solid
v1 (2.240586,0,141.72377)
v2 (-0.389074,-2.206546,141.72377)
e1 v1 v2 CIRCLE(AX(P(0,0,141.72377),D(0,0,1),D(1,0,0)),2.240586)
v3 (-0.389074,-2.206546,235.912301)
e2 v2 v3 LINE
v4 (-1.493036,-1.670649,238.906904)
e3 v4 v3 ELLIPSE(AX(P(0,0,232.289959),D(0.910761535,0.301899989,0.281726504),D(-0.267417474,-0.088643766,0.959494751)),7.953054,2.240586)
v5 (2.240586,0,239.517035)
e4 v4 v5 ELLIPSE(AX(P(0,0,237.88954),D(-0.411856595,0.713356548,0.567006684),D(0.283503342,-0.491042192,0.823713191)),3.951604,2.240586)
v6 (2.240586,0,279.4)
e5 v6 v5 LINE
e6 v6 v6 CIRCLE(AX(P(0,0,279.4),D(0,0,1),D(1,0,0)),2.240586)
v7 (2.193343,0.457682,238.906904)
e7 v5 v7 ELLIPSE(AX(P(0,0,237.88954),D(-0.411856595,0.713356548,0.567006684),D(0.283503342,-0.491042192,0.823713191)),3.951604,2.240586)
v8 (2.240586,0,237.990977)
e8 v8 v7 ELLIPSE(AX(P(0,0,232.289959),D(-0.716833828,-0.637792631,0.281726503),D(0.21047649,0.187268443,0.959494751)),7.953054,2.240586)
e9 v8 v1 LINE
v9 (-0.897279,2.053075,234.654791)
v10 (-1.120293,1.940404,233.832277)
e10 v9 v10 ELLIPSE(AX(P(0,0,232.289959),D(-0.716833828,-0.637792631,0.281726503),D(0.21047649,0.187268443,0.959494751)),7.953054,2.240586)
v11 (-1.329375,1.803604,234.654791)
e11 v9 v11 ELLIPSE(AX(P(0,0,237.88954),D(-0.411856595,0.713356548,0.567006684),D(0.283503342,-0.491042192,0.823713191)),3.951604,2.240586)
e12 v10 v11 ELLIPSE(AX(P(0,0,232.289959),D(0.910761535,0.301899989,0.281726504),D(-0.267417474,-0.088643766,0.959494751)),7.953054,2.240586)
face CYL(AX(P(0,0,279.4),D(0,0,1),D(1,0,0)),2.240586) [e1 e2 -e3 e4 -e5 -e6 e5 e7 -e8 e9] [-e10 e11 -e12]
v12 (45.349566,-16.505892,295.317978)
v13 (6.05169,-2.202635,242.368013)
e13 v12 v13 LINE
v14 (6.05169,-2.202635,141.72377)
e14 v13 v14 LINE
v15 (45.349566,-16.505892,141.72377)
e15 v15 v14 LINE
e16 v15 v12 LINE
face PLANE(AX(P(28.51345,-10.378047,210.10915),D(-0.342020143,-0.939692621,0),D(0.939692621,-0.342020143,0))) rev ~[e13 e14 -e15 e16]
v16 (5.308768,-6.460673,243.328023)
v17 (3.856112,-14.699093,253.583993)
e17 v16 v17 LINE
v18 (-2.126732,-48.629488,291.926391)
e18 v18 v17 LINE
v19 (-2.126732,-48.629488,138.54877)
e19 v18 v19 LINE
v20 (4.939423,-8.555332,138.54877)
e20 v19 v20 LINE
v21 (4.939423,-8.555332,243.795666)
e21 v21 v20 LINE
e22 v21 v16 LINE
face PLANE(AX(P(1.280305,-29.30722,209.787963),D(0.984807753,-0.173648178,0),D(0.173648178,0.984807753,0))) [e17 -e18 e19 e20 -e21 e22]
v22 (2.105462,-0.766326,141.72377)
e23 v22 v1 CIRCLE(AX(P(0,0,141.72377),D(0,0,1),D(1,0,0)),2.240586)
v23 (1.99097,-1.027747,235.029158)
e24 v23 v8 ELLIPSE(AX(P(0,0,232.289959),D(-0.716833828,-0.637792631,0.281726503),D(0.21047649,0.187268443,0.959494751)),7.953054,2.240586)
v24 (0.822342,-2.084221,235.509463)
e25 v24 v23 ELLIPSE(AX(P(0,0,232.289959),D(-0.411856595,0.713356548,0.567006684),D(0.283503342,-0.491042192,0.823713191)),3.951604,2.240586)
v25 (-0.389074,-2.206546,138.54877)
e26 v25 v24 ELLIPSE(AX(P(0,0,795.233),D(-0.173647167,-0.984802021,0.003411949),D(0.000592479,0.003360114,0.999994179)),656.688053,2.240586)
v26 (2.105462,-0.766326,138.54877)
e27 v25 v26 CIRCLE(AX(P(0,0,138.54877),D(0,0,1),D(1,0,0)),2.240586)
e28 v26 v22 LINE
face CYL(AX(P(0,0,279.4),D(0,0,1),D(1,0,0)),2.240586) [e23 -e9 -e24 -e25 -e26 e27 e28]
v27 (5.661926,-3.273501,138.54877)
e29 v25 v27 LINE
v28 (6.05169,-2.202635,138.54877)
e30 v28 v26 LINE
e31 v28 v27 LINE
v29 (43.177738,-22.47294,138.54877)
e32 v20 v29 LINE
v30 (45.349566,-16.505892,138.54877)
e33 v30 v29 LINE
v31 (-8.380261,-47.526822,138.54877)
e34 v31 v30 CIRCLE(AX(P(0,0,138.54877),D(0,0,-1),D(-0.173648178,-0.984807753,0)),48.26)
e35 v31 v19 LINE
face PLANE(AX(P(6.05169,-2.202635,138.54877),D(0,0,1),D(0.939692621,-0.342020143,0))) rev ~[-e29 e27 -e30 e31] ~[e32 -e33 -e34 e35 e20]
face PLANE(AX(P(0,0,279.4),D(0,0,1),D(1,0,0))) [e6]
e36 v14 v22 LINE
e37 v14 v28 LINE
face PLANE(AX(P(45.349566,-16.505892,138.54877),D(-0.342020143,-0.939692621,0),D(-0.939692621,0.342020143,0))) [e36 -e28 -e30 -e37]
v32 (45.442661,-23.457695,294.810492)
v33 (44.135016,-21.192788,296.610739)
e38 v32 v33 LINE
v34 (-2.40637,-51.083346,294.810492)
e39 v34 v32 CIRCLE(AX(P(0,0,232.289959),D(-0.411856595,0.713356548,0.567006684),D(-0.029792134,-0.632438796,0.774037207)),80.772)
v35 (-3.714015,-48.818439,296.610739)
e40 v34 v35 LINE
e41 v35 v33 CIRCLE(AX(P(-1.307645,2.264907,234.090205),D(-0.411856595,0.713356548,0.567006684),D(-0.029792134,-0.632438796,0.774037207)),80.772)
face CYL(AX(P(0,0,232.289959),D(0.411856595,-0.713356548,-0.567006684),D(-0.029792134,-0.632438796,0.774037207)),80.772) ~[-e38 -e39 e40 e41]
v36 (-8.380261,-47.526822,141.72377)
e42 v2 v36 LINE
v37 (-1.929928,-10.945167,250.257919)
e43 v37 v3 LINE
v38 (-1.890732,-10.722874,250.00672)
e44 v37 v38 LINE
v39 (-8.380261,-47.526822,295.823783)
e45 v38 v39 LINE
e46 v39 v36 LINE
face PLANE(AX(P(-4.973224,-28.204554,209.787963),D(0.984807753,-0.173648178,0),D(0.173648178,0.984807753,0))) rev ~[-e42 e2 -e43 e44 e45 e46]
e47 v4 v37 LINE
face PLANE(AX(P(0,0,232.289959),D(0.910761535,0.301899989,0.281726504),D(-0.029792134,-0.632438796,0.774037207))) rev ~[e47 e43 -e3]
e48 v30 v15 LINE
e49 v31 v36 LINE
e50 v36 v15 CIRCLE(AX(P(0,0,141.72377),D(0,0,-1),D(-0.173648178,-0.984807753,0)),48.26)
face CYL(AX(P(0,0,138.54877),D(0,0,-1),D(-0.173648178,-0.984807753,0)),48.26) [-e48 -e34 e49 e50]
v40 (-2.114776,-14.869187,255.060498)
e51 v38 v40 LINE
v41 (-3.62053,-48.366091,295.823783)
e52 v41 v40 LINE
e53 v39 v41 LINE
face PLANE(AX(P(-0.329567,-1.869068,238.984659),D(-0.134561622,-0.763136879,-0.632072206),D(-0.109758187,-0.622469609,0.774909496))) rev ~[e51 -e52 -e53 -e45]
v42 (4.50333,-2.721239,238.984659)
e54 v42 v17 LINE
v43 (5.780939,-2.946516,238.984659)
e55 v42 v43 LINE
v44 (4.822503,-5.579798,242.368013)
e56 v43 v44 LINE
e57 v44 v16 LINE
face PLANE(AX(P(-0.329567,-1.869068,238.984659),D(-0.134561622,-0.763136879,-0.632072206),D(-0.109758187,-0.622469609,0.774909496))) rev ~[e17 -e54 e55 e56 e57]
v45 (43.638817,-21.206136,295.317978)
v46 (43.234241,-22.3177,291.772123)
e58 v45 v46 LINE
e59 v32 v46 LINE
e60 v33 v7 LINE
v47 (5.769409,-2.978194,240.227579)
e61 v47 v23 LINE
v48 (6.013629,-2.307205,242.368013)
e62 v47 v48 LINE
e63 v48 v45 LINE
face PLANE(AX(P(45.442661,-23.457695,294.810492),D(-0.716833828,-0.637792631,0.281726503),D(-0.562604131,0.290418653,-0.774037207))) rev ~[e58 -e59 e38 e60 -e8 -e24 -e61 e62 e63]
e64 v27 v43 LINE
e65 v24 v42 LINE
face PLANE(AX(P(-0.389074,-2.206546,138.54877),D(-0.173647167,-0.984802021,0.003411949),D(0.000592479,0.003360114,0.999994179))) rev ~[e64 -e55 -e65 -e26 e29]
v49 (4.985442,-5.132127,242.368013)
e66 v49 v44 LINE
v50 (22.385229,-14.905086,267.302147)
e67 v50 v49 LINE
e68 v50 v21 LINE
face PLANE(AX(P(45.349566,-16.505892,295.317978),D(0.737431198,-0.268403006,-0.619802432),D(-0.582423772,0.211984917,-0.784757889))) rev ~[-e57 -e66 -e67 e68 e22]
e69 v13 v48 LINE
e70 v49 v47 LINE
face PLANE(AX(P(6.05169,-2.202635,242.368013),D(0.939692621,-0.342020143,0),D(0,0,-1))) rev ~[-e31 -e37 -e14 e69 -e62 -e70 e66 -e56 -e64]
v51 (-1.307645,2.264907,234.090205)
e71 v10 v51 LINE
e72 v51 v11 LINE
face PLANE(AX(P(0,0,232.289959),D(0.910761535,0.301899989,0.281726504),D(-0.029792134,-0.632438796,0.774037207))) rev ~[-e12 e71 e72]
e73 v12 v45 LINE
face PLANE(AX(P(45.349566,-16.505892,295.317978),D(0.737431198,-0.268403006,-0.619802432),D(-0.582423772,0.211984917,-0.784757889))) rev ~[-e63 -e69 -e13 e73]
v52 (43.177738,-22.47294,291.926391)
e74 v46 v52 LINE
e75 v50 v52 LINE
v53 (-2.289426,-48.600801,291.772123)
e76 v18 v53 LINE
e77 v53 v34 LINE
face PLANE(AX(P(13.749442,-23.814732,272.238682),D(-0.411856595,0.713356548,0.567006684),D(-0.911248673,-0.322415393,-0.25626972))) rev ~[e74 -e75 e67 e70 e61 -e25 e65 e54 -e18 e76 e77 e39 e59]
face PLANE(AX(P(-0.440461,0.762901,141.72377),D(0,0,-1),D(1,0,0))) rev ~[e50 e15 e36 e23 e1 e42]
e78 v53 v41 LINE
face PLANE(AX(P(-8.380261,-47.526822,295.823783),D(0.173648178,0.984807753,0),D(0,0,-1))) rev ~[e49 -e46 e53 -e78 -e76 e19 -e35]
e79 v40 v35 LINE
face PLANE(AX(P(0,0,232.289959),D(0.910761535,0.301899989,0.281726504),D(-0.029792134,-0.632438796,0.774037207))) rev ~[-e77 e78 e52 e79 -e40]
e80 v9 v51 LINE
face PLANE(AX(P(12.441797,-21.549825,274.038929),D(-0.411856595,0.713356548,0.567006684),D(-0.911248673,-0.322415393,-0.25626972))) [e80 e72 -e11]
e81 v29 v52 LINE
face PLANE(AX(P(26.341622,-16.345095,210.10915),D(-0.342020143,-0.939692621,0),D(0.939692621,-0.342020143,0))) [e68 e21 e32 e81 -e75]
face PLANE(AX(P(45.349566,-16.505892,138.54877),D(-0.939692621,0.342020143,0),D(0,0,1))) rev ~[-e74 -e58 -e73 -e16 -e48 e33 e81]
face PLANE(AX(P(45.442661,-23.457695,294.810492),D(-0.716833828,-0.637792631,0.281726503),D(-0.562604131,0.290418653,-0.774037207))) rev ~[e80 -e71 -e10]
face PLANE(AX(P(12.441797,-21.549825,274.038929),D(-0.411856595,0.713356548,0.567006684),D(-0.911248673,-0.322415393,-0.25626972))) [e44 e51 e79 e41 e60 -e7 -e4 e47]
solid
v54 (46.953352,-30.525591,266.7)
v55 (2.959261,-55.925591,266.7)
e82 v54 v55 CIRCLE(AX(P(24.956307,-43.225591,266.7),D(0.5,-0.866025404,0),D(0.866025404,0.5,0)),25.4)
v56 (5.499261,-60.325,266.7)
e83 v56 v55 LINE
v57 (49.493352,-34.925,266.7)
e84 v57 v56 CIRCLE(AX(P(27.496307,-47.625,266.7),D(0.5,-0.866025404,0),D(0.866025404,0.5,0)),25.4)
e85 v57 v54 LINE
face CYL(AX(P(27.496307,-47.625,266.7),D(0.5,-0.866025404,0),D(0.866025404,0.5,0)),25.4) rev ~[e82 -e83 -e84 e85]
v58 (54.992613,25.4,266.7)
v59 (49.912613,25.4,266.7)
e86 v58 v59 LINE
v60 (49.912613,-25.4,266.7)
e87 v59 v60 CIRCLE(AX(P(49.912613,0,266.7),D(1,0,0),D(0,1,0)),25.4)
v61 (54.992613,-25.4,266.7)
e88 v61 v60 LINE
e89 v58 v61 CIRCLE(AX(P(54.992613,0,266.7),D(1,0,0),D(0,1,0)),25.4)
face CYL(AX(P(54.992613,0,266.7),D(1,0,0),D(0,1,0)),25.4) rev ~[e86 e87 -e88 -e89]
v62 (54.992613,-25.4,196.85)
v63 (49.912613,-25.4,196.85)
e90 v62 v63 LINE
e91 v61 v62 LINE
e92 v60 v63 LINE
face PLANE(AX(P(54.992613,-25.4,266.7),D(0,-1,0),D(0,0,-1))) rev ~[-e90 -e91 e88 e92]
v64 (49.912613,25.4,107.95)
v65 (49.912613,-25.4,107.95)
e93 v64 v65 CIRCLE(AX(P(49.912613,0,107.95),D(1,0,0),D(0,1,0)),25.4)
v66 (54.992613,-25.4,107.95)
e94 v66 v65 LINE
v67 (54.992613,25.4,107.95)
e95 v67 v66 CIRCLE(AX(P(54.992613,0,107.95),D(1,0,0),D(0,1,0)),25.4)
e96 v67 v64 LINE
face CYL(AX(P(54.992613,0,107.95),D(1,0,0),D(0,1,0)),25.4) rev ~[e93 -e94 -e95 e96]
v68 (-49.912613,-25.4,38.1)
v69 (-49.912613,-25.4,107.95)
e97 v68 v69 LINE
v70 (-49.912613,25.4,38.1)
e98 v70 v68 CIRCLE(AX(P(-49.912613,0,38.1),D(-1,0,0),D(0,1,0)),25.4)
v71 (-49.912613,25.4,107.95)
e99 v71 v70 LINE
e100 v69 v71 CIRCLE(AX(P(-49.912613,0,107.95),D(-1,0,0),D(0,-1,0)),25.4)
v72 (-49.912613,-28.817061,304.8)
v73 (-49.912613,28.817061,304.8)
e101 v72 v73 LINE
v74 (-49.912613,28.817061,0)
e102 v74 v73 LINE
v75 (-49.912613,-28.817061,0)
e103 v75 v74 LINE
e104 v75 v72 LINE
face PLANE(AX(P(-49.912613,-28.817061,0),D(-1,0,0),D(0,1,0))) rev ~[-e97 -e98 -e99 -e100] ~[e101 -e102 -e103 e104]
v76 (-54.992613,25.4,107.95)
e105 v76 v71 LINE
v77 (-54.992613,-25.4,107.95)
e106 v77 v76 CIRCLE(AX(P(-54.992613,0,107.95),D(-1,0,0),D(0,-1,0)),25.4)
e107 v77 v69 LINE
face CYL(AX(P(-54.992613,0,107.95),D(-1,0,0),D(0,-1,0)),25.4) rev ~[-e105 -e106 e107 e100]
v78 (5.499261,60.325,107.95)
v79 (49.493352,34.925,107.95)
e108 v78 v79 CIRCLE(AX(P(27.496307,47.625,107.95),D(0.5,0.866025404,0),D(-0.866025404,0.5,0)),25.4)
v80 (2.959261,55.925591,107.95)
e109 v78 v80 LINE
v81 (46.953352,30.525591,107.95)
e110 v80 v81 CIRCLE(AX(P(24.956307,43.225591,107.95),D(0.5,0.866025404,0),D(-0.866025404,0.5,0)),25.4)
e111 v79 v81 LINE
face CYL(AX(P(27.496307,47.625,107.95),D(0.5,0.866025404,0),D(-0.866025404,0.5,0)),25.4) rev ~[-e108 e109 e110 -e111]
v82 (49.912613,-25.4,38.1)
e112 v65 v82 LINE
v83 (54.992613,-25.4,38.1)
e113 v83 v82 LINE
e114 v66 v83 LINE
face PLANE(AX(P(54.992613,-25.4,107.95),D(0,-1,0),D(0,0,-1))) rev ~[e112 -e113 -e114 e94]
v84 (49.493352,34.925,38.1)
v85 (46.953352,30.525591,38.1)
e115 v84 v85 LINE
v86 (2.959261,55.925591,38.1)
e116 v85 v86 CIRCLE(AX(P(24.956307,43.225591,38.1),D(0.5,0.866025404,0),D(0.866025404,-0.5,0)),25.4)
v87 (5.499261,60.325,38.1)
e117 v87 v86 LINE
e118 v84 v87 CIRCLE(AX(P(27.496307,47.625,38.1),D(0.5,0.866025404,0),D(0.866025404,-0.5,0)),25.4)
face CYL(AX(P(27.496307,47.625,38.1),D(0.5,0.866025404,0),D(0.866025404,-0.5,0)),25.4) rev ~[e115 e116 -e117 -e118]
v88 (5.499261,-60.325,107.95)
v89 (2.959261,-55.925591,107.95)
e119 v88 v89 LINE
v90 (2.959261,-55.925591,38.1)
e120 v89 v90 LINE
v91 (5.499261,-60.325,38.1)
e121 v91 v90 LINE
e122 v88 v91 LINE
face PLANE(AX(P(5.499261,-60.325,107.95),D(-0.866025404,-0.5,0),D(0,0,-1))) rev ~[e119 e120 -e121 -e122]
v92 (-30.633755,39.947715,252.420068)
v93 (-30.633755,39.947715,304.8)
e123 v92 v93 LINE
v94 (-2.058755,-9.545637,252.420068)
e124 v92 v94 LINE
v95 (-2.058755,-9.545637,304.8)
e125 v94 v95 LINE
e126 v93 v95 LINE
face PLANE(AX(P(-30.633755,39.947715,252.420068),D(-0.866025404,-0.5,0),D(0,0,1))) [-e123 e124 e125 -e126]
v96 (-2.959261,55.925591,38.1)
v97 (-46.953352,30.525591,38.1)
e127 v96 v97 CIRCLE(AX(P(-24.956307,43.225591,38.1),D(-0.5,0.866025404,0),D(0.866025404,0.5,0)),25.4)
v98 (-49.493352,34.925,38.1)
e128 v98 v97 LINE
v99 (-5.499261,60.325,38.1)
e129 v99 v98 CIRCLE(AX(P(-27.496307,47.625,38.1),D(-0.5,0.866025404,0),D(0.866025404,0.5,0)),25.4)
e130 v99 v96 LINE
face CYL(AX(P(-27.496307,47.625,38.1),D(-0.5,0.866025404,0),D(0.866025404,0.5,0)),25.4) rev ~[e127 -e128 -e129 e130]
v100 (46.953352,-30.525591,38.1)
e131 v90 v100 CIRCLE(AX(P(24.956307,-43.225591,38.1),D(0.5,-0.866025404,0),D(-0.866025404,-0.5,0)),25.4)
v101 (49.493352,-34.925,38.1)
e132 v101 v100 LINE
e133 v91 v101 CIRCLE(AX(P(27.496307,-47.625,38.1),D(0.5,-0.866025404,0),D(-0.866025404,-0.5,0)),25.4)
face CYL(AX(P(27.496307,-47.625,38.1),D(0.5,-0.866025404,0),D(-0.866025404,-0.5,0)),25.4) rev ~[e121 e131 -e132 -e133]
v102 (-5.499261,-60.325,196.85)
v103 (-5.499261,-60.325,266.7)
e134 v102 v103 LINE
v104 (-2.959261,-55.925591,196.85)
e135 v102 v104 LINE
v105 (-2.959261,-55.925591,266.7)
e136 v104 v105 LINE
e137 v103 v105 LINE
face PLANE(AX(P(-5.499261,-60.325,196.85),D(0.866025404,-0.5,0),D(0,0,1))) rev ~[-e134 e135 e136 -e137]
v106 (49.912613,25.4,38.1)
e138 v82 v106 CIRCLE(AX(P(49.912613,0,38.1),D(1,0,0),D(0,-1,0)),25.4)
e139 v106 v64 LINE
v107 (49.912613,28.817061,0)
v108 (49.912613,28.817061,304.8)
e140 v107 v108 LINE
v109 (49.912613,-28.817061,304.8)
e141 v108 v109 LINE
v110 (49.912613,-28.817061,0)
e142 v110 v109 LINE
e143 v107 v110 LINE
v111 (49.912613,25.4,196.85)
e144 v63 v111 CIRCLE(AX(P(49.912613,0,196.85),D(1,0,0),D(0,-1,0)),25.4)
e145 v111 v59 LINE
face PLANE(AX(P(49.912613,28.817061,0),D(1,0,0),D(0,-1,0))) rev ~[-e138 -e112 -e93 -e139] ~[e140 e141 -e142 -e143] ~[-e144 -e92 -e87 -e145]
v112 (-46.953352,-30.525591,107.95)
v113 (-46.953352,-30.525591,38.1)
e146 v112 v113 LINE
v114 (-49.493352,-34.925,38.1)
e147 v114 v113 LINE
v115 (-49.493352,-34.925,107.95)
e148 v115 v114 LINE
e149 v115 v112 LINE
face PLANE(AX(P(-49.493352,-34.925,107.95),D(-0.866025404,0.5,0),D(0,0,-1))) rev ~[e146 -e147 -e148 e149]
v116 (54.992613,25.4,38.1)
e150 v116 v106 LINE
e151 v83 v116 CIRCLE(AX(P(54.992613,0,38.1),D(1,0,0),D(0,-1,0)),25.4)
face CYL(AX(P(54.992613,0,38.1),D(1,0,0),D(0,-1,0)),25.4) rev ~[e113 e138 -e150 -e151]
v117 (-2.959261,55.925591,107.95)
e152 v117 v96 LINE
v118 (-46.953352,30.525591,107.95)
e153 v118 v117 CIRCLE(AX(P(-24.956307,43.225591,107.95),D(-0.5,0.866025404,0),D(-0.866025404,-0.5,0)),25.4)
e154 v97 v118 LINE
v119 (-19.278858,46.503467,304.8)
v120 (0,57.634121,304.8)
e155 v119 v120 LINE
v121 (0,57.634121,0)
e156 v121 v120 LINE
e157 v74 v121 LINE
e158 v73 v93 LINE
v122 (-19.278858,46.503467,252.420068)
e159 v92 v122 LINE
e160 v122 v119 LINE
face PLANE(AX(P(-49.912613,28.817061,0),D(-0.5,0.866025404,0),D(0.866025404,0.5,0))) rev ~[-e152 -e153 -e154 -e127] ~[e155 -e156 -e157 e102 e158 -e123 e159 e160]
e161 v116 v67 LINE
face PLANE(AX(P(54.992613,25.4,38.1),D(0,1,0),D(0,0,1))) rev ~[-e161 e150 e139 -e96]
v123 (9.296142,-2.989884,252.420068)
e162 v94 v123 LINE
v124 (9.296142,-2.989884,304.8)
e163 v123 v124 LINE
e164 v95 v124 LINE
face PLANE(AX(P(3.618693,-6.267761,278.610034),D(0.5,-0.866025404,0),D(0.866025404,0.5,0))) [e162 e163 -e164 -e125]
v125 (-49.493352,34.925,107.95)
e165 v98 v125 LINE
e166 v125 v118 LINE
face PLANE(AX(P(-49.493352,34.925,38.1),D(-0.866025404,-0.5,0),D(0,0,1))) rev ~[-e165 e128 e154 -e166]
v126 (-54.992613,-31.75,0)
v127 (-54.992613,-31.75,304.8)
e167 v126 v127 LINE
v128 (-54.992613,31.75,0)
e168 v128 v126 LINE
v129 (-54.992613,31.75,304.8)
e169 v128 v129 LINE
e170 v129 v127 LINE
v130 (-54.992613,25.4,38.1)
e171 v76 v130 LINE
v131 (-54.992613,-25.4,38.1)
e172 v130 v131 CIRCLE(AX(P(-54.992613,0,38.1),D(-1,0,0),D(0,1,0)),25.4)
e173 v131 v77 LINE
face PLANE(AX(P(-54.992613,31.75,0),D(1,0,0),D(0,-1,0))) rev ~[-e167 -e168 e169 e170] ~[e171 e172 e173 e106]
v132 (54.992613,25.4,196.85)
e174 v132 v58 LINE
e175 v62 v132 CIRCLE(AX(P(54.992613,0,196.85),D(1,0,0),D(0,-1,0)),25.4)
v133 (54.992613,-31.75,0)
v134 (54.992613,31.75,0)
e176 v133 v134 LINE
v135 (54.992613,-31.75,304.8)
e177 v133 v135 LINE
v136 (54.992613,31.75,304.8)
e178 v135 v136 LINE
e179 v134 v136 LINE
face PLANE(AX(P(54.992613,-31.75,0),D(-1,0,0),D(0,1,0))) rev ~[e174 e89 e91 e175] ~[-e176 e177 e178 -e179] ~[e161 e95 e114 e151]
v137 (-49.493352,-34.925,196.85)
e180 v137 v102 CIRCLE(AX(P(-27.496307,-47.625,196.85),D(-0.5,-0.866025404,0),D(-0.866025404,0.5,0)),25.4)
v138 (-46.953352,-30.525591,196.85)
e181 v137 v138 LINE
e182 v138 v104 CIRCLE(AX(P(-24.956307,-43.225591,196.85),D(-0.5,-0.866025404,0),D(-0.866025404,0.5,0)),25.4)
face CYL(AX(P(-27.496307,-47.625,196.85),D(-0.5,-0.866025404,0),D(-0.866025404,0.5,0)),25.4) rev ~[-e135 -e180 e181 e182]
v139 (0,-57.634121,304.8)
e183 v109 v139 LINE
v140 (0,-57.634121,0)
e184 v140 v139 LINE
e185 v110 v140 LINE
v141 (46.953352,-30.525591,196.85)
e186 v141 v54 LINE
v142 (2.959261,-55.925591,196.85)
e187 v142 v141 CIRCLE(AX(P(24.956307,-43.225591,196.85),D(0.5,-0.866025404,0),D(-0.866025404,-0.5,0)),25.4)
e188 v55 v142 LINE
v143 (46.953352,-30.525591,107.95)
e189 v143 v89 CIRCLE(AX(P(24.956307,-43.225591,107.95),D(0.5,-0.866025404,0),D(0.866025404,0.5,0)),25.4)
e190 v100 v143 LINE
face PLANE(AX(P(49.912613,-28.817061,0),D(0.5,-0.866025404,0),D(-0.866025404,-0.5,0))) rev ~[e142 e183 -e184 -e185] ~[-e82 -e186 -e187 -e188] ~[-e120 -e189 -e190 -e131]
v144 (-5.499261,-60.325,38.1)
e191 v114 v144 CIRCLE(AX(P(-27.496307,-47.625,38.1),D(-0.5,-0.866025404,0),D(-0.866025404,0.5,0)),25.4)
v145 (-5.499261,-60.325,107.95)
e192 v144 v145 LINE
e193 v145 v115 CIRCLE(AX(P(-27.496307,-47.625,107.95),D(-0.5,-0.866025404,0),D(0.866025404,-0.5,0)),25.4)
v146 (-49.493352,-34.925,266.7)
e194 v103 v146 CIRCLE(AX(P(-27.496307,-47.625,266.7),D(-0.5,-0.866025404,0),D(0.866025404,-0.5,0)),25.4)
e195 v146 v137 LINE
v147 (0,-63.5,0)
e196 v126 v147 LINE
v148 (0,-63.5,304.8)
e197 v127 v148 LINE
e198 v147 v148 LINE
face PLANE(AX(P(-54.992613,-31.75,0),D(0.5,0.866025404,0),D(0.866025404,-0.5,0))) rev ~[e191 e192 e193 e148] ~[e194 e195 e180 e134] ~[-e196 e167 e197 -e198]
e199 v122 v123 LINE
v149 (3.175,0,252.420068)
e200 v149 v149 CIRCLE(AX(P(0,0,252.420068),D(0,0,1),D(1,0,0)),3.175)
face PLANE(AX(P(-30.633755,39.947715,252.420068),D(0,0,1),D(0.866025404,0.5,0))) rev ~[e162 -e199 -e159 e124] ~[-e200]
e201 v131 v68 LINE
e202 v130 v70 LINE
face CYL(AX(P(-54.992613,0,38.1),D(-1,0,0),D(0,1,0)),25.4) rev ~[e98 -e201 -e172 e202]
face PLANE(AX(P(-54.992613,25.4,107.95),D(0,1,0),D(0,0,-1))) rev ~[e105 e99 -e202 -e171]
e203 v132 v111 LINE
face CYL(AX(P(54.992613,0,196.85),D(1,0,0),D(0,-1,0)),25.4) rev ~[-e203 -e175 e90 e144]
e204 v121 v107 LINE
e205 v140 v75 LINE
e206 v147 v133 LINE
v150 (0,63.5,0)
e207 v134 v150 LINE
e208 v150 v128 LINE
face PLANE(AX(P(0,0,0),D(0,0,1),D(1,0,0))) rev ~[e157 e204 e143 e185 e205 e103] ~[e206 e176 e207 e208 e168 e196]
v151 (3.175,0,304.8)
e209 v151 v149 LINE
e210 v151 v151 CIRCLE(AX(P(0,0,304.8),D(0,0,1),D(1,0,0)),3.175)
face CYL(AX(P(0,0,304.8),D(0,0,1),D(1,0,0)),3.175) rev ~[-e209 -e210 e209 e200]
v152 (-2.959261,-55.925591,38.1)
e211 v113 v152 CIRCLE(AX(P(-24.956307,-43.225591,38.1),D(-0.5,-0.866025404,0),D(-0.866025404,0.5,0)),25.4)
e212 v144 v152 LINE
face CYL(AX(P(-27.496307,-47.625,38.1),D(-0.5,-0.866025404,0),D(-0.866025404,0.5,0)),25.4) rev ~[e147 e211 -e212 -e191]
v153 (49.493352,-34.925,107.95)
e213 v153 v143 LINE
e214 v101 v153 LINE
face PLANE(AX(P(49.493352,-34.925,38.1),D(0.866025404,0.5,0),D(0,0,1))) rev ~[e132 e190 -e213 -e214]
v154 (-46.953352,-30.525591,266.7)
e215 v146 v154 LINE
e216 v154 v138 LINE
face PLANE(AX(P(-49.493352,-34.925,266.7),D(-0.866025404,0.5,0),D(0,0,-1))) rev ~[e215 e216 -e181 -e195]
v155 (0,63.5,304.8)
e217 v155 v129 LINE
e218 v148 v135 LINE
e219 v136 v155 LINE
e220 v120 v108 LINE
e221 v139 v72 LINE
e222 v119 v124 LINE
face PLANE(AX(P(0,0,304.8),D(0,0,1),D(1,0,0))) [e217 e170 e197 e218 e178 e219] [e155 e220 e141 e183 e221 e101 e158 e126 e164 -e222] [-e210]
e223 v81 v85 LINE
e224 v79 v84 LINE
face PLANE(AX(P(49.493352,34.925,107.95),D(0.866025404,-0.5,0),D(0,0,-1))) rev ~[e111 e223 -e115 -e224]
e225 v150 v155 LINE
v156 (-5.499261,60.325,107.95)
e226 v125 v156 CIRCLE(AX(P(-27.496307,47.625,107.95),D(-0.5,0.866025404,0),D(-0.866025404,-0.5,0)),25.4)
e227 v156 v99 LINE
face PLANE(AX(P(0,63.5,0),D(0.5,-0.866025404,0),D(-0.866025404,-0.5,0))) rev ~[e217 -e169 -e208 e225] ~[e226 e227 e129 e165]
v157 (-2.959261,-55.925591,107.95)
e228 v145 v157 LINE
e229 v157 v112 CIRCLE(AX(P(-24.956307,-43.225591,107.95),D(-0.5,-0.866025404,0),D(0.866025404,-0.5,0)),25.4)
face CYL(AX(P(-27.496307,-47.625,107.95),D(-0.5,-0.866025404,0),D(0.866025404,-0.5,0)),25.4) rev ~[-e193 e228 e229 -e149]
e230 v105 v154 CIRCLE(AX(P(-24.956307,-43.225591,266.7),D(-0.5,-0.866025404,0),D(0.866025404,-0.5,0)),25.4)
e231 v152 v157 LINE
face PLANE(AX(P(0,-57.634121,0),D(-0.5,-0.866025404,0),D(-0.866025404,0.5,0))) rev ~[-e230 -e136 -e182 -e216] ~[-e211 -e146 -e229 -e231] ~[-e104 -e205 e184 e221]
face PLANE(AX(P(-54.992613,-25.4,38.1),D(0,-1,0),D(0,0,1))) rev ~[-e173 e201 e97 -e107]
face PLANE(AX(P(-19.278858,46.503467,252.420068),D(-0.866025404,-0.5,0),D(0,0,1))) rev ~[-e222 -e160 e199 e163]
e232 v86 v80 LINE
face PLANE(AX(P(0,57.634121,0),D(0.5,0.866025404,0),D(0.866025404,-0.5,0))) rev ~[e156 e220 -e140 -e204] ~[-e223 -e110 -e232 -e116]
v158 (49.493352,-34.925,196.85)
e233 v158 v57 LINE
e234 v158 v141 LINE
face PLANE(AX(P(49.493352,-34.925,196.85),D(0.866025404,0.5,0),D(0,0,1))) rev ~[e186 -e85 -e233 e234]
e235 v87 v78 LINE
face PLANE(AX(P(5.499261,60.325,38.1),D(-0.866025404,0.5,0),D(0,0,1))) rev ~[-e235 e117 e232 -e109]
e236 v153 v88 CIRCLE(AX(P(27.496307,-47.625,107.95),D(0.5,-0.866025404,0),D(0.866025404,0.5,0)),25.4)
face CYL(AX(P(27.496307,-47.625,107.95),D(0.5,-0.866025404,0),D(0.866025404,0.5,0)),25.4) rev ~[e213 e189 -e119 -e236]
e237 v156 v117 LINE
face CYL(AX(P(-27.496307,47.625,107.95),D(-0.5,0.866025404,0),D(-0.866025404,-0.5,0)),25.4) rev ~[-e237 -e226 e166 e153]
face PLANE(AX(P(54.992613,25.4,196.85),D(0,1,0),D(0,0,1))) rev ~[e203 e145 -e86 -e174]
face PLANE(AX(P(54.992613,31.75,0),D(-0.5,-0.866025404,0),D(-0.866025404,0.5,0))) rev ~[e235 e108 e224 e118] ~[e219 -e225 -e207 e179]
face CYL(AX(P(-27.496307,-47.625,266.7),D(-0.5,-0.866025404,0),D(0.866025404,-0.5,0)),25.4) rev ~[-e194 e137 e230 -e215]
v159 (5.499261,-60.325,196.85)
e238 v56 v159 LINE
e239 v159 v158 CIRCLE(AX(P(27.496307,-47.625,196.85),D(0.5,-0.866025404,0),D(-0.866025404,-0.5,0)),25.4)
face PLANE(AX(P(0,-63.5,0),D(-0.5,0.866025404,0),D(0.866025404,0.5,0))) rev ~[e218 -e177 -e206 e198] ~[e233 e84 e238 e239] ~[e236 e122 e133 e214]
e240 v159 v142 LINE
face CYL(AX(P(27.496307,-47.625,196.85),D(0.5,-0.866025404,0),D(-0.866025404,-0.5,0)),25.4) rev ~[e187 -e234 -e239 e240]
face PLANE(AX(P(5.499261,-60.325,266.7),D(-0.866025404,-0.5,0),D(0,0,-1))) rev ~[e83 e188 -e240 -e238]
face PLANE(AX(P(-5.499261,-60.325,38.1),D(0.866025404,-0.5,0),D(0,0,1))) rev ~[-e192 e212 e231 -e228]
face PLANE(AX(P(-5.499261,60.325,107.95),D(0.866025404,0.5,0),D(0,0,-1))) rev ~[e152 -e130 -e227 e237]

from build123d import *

# Parameters (mm, degrees)
F1_DEPTH  = 304.8
F7_DEPTH  = 3.175
F8_W      = 13.1115056574
F8_H      = 52.3799322128
F9_DEPTH  = 57.15
F10_R     = 3.175
F11_DEPTH = 304.801
F13_START = -25.4
F12_R     = 2.2405859804
F13_DEPTH = 140.85123
F15_DEPTH = 5.08
F17_DEPTH = 5.08
F19_DEPTH = 5.08
F21_DEPTH = 3.175
F23_DEPTH = 6.35
F25_DEPTH = 6.35
F27_DEPTH = 5.08
F29_DEPTH = 5.08
F31_DEPTH = 5.08


with BuildPart() as f1:
    # F0 (on Top) → F1 (new body)
    with BuildSketch(Plane.XY):
        Polygon((-54.9926131403, 31.75), (-54.9926131403, 0), (-54.9926131403, -31.75), (0, -63.5), (54.9926131403, -31.75), (54.9926131403, 0), (54.9926131403, 31.75), (0, 63.5), align=None)
        Polygon((-49.9126131403, -28.8170606325), (-49.9126131403, 0), (-49.9126131403, 28.8170606325), (0, 57.634121265), (49.9126131403, 28.8170606325), (49.9126131403, 0), (49.9126131403, -28.8170606325), (0, -57.634121265), align=None, mode=Mode.SUBTRACT)
    extrude(amount=F1_DEPTH)

    # F8 (on face) → F9 (join)
    with BuildSketch(Plane(origin=(-24.9563065702, 43.2255909488, 0), x_dir=(0.8660254038, 0.5, 0), z_dir=(0.5, -0.8660254038, 0))):
        with Locations((0, 278.6100338936)):
            Rectangle(F8_W, F8_H)
    extrude(amount=F9_DEPTH)

    # F10 (on face) → F11 (cut, through all)
    with BuildSketch(Plane.XY.offset(304.8)):
        Circle(F10_R)
    extrude(amount=-F11_DEPTH, mode=Mode.SUBTRACT)

    # F14 (on face) → F15 (cut, through all)
    with BuildSketch(Plane.YZ.offset(54.9926131403)):
        with BuildLine():
            ThreePointArc((25.4, 266.7), (0, 292.1), (-25.4, 266.7))
            Line((-25.4, 266.7), (-25.4, 196.85))
            ThreePointArc((-25.4, 196.85), (0, 171.45), (25.4, 196.85))
            Line((25.4, 196.85), (25.4, 266.7))
        make_face()
        with BuildLine():
            ThreePointArc((25.4, 107.95), (0, 133.35), (-25.4, 107.95))
            Line((-25.4, 107.95), (-25.4, 38.1))
            ThreePointArc((-25.4, 38.1), (0, 12.7), (25.4, 38.1))
            Line((25.4, 38.1), (25.4, 107.95))
        make_face()
    extrude(amount=-F15_DEPTH, mode=Mode.SUBTRACT)

    # F16 (on face) → F17 (cut, through all)
    with BuildSketch(Plane(origin=(27.4963065702, -47.625, 0), x_dir=(0.8660254038, 0.5, 0), z_dir=(0.5, -0.8660254038, 0))):
        with BuildLine():
            ThreePointArc((25.4, 266.7), (0, 292.1), (-25.4, 266.7))
            Line((-25.4, 266.7), (-25.4, 196.85))
            ThreePointArc((-25.4, 196.85), (0, 171.45), (25.4, 196.85))
            Line((25.4, 196.85), (25.4, 266.7))
        make_face()
        with BuildLine():
            Line((25.4, 38.1), (25.4, 107.95))
            ThreePointArc((25.4, 107.95), (0, 133.35), (-25.4, 107.95))
            Line((-25.4, 107.95), (-25.4, 38.1))
            ThreePointArc((-25.4, 38.1), (0, 12.7), (25.4, 38.1))
        make_face()
    extrude(amount=-F17_DEPTH, mode=Mode.SUBTRACT)

    # F18 (on face) → F19 (cut, through all)
    with BuildSketch(Plane(origin=(-27.4963065702, -47.625, 0), x_dir=(0.8660254038, -0.5, 0), z_dir=(-0.5, -0.8660254038, 0))):
        with BuildLine():
            ThreePointArc((25.4, 266.7), (0, 292.1), (-25.4, 266.7))
            Line((-25.4, 266.7), (-25.4, 196.85))
            ThreePointArc((-25.4, 196.85), (0, 171.45), (25.4, 196.85))
            Line((25.4, 196.85), (25.4, 266.7))
        make_face()
        with BuildLine():
            ThreePointArc((25.4, 107.95), (0, 133.35), (-25.4, 107.95))
            Line((-25.4, 107.95), (-25.4, 38.1))
            ThreePointArc((-25.4, 38.1), (0, 12.7), (25.4, 38.1))
            Line((25.4, 38.1), (25.4, 107.95))
        make_face()
    extrude(amount=-F19_DEPTH, mode=Mode.SUBTRACT)

    # F26 (on face) → F27 (cut, through all)
    with BuildSketch(Plane(origin=(27.4963065702, 47.625, 0), x_dir=(-0.8660254038, 0.5, 0), z_dir=(0.5, 0.8660254038, 0))):
        with BuildLine():
            ThreePointArc((25.4, 107.95), (0, 133.35), (-25.4, 107.95))
            Line((-25.4, 107.95), (-25.4, 38.1))
            ThreePointArc((-25.4, 38.1), (0, 12.7), (25.4, 38.1))
            Line((25.4, 38.1), (25.4, 107.95))
        make_face()
    extrude(amount=-F27_DEPTH, mode=Mode.SUBTRACT)

    # F28 (on face) → F29 (cut, through all)
    with BuildSketch(Plane(origin=(-27.4963065702, 47.625, 0), x_dir=(-0.8660254038, -0.5, 0), z_dir=(-0.5, 0.8660254038, 0))):
        with BuildLine():
            Line((-25.4, 107.95), (-25.4, 38.1))
            ThreePointArc((-25.4, 38.1), (0, 12.7), (25.4, 38.1))
            Line((25.4, 38.1), (25.4, 107.95))
            ThreePointArc((25.4, 107.95), (0, 133.35), (-25.4, 107.95))
        make_face()
    extrude(amount=-F29_DEPTH, mode=Mode.SUBTRACT)

    # F30 (on face) → F31 (cut, through all)
    with BuildSketch(Plane(origin=(-54.9926131403, 0, 0), x_dir=(0, -1, 0), z_dir=(-1, 0, 0))):
        with BuildLine():
            Line((-25.4, 107.95), (-25.4, 38.1))
            ThreePointArc((-25.4, 38.1), (0, 12.7), (25.4, 38.1))
            Line((25.4, 38.1), (25.4, 107.95))
            ThreePointArc((25.4, 107.95), (0, 133.35), (-25.4, 107.95))
        make_face()
    extrude(amount=-F31_DEPTH, mode=Mode.SUBTRACT)


with BuildPart() as f7:
    # F6 (on 3pt) → F7 (new body)
    with BuildSketch(Plane(origin=(-54.2456154711, 93.9561620838, 74.6804273717), x_dir=(-0.9112486735, -0.3224153931, -0.25626972), z_dir=(-0.4118565953, 0.7133565484, 0.567006684))):
        with BuildLine():
            Line((-59.528882784, 181.8445044933), (-56.8881433905, 262.573325118))
            ThreePointArc((-56.8881433905, 262.573325118), (-84.6582822631, 258.6079675849), (-109.3974446881, 245.383803495))
            Line((-109.3974446881, 245.383803495), (-59.528882784, 181.8445044933))
        make_face()
    extrude(amount=F7_DEPTH)

    # F12 (on face) → F13 (join)
    with BuildSketch(Plane.XY.offset(304.8).offset(F13_START)):
        Circle(F12_R)
    extrude(amount=-F13_DEPTH)

    # F20 (on face) → F21 (join)
    with BuildSketch(Plane(origin=(0, 0, 138.54877), x_dir=(1, 0, 0), z_dir=(0, 0, -1))):
        with BuildLine():
            ThreePointArc((-8.3802610542, 47.5268221604), (-24.13, -41.7943859866), (45.3495658791, 16.5058921169))
            Line((45.3495658791, 16.5058921169), (0, 0))
            Line((0, 0), (-8.3802610542, 47.5268221604))
        make_face()
    extrude(amount=-F21_DEPTH)

    # F22 (on face) → F23 (join)
    with BuildSketch(Plane(origin=(0, 0, 0), x_dir=(0.1736481777, 0.984807753, 0), z_dir=(0.984807753, -0.1736481777, 0))):
        Polygon((-48.26, 295.8237826824), (-48.26, 138.54877), (-2.2405859804, 138.54877), (-1.8979018787, 238.9846593142), align=None)
    extrude(amount=F23_DEPTH)

    # F24 (on face) → F25 (join)
    with BuildSketch(Plane(origin=(0, 0, 0), x_dir=(0.9396926208, -0.3420201433, 0), z_dir=(-0.3420201433, -0.9396926208, 0))):
        Polygon((6.4400737174, 138.54877), (48.26, 138.54877), (48.26, 295.3179776669), (6.4400737174, 242.3680126667), align=None)
    extrude(amount=F25_DEPTH)


solid = Compound([f1.part, f7.part])
